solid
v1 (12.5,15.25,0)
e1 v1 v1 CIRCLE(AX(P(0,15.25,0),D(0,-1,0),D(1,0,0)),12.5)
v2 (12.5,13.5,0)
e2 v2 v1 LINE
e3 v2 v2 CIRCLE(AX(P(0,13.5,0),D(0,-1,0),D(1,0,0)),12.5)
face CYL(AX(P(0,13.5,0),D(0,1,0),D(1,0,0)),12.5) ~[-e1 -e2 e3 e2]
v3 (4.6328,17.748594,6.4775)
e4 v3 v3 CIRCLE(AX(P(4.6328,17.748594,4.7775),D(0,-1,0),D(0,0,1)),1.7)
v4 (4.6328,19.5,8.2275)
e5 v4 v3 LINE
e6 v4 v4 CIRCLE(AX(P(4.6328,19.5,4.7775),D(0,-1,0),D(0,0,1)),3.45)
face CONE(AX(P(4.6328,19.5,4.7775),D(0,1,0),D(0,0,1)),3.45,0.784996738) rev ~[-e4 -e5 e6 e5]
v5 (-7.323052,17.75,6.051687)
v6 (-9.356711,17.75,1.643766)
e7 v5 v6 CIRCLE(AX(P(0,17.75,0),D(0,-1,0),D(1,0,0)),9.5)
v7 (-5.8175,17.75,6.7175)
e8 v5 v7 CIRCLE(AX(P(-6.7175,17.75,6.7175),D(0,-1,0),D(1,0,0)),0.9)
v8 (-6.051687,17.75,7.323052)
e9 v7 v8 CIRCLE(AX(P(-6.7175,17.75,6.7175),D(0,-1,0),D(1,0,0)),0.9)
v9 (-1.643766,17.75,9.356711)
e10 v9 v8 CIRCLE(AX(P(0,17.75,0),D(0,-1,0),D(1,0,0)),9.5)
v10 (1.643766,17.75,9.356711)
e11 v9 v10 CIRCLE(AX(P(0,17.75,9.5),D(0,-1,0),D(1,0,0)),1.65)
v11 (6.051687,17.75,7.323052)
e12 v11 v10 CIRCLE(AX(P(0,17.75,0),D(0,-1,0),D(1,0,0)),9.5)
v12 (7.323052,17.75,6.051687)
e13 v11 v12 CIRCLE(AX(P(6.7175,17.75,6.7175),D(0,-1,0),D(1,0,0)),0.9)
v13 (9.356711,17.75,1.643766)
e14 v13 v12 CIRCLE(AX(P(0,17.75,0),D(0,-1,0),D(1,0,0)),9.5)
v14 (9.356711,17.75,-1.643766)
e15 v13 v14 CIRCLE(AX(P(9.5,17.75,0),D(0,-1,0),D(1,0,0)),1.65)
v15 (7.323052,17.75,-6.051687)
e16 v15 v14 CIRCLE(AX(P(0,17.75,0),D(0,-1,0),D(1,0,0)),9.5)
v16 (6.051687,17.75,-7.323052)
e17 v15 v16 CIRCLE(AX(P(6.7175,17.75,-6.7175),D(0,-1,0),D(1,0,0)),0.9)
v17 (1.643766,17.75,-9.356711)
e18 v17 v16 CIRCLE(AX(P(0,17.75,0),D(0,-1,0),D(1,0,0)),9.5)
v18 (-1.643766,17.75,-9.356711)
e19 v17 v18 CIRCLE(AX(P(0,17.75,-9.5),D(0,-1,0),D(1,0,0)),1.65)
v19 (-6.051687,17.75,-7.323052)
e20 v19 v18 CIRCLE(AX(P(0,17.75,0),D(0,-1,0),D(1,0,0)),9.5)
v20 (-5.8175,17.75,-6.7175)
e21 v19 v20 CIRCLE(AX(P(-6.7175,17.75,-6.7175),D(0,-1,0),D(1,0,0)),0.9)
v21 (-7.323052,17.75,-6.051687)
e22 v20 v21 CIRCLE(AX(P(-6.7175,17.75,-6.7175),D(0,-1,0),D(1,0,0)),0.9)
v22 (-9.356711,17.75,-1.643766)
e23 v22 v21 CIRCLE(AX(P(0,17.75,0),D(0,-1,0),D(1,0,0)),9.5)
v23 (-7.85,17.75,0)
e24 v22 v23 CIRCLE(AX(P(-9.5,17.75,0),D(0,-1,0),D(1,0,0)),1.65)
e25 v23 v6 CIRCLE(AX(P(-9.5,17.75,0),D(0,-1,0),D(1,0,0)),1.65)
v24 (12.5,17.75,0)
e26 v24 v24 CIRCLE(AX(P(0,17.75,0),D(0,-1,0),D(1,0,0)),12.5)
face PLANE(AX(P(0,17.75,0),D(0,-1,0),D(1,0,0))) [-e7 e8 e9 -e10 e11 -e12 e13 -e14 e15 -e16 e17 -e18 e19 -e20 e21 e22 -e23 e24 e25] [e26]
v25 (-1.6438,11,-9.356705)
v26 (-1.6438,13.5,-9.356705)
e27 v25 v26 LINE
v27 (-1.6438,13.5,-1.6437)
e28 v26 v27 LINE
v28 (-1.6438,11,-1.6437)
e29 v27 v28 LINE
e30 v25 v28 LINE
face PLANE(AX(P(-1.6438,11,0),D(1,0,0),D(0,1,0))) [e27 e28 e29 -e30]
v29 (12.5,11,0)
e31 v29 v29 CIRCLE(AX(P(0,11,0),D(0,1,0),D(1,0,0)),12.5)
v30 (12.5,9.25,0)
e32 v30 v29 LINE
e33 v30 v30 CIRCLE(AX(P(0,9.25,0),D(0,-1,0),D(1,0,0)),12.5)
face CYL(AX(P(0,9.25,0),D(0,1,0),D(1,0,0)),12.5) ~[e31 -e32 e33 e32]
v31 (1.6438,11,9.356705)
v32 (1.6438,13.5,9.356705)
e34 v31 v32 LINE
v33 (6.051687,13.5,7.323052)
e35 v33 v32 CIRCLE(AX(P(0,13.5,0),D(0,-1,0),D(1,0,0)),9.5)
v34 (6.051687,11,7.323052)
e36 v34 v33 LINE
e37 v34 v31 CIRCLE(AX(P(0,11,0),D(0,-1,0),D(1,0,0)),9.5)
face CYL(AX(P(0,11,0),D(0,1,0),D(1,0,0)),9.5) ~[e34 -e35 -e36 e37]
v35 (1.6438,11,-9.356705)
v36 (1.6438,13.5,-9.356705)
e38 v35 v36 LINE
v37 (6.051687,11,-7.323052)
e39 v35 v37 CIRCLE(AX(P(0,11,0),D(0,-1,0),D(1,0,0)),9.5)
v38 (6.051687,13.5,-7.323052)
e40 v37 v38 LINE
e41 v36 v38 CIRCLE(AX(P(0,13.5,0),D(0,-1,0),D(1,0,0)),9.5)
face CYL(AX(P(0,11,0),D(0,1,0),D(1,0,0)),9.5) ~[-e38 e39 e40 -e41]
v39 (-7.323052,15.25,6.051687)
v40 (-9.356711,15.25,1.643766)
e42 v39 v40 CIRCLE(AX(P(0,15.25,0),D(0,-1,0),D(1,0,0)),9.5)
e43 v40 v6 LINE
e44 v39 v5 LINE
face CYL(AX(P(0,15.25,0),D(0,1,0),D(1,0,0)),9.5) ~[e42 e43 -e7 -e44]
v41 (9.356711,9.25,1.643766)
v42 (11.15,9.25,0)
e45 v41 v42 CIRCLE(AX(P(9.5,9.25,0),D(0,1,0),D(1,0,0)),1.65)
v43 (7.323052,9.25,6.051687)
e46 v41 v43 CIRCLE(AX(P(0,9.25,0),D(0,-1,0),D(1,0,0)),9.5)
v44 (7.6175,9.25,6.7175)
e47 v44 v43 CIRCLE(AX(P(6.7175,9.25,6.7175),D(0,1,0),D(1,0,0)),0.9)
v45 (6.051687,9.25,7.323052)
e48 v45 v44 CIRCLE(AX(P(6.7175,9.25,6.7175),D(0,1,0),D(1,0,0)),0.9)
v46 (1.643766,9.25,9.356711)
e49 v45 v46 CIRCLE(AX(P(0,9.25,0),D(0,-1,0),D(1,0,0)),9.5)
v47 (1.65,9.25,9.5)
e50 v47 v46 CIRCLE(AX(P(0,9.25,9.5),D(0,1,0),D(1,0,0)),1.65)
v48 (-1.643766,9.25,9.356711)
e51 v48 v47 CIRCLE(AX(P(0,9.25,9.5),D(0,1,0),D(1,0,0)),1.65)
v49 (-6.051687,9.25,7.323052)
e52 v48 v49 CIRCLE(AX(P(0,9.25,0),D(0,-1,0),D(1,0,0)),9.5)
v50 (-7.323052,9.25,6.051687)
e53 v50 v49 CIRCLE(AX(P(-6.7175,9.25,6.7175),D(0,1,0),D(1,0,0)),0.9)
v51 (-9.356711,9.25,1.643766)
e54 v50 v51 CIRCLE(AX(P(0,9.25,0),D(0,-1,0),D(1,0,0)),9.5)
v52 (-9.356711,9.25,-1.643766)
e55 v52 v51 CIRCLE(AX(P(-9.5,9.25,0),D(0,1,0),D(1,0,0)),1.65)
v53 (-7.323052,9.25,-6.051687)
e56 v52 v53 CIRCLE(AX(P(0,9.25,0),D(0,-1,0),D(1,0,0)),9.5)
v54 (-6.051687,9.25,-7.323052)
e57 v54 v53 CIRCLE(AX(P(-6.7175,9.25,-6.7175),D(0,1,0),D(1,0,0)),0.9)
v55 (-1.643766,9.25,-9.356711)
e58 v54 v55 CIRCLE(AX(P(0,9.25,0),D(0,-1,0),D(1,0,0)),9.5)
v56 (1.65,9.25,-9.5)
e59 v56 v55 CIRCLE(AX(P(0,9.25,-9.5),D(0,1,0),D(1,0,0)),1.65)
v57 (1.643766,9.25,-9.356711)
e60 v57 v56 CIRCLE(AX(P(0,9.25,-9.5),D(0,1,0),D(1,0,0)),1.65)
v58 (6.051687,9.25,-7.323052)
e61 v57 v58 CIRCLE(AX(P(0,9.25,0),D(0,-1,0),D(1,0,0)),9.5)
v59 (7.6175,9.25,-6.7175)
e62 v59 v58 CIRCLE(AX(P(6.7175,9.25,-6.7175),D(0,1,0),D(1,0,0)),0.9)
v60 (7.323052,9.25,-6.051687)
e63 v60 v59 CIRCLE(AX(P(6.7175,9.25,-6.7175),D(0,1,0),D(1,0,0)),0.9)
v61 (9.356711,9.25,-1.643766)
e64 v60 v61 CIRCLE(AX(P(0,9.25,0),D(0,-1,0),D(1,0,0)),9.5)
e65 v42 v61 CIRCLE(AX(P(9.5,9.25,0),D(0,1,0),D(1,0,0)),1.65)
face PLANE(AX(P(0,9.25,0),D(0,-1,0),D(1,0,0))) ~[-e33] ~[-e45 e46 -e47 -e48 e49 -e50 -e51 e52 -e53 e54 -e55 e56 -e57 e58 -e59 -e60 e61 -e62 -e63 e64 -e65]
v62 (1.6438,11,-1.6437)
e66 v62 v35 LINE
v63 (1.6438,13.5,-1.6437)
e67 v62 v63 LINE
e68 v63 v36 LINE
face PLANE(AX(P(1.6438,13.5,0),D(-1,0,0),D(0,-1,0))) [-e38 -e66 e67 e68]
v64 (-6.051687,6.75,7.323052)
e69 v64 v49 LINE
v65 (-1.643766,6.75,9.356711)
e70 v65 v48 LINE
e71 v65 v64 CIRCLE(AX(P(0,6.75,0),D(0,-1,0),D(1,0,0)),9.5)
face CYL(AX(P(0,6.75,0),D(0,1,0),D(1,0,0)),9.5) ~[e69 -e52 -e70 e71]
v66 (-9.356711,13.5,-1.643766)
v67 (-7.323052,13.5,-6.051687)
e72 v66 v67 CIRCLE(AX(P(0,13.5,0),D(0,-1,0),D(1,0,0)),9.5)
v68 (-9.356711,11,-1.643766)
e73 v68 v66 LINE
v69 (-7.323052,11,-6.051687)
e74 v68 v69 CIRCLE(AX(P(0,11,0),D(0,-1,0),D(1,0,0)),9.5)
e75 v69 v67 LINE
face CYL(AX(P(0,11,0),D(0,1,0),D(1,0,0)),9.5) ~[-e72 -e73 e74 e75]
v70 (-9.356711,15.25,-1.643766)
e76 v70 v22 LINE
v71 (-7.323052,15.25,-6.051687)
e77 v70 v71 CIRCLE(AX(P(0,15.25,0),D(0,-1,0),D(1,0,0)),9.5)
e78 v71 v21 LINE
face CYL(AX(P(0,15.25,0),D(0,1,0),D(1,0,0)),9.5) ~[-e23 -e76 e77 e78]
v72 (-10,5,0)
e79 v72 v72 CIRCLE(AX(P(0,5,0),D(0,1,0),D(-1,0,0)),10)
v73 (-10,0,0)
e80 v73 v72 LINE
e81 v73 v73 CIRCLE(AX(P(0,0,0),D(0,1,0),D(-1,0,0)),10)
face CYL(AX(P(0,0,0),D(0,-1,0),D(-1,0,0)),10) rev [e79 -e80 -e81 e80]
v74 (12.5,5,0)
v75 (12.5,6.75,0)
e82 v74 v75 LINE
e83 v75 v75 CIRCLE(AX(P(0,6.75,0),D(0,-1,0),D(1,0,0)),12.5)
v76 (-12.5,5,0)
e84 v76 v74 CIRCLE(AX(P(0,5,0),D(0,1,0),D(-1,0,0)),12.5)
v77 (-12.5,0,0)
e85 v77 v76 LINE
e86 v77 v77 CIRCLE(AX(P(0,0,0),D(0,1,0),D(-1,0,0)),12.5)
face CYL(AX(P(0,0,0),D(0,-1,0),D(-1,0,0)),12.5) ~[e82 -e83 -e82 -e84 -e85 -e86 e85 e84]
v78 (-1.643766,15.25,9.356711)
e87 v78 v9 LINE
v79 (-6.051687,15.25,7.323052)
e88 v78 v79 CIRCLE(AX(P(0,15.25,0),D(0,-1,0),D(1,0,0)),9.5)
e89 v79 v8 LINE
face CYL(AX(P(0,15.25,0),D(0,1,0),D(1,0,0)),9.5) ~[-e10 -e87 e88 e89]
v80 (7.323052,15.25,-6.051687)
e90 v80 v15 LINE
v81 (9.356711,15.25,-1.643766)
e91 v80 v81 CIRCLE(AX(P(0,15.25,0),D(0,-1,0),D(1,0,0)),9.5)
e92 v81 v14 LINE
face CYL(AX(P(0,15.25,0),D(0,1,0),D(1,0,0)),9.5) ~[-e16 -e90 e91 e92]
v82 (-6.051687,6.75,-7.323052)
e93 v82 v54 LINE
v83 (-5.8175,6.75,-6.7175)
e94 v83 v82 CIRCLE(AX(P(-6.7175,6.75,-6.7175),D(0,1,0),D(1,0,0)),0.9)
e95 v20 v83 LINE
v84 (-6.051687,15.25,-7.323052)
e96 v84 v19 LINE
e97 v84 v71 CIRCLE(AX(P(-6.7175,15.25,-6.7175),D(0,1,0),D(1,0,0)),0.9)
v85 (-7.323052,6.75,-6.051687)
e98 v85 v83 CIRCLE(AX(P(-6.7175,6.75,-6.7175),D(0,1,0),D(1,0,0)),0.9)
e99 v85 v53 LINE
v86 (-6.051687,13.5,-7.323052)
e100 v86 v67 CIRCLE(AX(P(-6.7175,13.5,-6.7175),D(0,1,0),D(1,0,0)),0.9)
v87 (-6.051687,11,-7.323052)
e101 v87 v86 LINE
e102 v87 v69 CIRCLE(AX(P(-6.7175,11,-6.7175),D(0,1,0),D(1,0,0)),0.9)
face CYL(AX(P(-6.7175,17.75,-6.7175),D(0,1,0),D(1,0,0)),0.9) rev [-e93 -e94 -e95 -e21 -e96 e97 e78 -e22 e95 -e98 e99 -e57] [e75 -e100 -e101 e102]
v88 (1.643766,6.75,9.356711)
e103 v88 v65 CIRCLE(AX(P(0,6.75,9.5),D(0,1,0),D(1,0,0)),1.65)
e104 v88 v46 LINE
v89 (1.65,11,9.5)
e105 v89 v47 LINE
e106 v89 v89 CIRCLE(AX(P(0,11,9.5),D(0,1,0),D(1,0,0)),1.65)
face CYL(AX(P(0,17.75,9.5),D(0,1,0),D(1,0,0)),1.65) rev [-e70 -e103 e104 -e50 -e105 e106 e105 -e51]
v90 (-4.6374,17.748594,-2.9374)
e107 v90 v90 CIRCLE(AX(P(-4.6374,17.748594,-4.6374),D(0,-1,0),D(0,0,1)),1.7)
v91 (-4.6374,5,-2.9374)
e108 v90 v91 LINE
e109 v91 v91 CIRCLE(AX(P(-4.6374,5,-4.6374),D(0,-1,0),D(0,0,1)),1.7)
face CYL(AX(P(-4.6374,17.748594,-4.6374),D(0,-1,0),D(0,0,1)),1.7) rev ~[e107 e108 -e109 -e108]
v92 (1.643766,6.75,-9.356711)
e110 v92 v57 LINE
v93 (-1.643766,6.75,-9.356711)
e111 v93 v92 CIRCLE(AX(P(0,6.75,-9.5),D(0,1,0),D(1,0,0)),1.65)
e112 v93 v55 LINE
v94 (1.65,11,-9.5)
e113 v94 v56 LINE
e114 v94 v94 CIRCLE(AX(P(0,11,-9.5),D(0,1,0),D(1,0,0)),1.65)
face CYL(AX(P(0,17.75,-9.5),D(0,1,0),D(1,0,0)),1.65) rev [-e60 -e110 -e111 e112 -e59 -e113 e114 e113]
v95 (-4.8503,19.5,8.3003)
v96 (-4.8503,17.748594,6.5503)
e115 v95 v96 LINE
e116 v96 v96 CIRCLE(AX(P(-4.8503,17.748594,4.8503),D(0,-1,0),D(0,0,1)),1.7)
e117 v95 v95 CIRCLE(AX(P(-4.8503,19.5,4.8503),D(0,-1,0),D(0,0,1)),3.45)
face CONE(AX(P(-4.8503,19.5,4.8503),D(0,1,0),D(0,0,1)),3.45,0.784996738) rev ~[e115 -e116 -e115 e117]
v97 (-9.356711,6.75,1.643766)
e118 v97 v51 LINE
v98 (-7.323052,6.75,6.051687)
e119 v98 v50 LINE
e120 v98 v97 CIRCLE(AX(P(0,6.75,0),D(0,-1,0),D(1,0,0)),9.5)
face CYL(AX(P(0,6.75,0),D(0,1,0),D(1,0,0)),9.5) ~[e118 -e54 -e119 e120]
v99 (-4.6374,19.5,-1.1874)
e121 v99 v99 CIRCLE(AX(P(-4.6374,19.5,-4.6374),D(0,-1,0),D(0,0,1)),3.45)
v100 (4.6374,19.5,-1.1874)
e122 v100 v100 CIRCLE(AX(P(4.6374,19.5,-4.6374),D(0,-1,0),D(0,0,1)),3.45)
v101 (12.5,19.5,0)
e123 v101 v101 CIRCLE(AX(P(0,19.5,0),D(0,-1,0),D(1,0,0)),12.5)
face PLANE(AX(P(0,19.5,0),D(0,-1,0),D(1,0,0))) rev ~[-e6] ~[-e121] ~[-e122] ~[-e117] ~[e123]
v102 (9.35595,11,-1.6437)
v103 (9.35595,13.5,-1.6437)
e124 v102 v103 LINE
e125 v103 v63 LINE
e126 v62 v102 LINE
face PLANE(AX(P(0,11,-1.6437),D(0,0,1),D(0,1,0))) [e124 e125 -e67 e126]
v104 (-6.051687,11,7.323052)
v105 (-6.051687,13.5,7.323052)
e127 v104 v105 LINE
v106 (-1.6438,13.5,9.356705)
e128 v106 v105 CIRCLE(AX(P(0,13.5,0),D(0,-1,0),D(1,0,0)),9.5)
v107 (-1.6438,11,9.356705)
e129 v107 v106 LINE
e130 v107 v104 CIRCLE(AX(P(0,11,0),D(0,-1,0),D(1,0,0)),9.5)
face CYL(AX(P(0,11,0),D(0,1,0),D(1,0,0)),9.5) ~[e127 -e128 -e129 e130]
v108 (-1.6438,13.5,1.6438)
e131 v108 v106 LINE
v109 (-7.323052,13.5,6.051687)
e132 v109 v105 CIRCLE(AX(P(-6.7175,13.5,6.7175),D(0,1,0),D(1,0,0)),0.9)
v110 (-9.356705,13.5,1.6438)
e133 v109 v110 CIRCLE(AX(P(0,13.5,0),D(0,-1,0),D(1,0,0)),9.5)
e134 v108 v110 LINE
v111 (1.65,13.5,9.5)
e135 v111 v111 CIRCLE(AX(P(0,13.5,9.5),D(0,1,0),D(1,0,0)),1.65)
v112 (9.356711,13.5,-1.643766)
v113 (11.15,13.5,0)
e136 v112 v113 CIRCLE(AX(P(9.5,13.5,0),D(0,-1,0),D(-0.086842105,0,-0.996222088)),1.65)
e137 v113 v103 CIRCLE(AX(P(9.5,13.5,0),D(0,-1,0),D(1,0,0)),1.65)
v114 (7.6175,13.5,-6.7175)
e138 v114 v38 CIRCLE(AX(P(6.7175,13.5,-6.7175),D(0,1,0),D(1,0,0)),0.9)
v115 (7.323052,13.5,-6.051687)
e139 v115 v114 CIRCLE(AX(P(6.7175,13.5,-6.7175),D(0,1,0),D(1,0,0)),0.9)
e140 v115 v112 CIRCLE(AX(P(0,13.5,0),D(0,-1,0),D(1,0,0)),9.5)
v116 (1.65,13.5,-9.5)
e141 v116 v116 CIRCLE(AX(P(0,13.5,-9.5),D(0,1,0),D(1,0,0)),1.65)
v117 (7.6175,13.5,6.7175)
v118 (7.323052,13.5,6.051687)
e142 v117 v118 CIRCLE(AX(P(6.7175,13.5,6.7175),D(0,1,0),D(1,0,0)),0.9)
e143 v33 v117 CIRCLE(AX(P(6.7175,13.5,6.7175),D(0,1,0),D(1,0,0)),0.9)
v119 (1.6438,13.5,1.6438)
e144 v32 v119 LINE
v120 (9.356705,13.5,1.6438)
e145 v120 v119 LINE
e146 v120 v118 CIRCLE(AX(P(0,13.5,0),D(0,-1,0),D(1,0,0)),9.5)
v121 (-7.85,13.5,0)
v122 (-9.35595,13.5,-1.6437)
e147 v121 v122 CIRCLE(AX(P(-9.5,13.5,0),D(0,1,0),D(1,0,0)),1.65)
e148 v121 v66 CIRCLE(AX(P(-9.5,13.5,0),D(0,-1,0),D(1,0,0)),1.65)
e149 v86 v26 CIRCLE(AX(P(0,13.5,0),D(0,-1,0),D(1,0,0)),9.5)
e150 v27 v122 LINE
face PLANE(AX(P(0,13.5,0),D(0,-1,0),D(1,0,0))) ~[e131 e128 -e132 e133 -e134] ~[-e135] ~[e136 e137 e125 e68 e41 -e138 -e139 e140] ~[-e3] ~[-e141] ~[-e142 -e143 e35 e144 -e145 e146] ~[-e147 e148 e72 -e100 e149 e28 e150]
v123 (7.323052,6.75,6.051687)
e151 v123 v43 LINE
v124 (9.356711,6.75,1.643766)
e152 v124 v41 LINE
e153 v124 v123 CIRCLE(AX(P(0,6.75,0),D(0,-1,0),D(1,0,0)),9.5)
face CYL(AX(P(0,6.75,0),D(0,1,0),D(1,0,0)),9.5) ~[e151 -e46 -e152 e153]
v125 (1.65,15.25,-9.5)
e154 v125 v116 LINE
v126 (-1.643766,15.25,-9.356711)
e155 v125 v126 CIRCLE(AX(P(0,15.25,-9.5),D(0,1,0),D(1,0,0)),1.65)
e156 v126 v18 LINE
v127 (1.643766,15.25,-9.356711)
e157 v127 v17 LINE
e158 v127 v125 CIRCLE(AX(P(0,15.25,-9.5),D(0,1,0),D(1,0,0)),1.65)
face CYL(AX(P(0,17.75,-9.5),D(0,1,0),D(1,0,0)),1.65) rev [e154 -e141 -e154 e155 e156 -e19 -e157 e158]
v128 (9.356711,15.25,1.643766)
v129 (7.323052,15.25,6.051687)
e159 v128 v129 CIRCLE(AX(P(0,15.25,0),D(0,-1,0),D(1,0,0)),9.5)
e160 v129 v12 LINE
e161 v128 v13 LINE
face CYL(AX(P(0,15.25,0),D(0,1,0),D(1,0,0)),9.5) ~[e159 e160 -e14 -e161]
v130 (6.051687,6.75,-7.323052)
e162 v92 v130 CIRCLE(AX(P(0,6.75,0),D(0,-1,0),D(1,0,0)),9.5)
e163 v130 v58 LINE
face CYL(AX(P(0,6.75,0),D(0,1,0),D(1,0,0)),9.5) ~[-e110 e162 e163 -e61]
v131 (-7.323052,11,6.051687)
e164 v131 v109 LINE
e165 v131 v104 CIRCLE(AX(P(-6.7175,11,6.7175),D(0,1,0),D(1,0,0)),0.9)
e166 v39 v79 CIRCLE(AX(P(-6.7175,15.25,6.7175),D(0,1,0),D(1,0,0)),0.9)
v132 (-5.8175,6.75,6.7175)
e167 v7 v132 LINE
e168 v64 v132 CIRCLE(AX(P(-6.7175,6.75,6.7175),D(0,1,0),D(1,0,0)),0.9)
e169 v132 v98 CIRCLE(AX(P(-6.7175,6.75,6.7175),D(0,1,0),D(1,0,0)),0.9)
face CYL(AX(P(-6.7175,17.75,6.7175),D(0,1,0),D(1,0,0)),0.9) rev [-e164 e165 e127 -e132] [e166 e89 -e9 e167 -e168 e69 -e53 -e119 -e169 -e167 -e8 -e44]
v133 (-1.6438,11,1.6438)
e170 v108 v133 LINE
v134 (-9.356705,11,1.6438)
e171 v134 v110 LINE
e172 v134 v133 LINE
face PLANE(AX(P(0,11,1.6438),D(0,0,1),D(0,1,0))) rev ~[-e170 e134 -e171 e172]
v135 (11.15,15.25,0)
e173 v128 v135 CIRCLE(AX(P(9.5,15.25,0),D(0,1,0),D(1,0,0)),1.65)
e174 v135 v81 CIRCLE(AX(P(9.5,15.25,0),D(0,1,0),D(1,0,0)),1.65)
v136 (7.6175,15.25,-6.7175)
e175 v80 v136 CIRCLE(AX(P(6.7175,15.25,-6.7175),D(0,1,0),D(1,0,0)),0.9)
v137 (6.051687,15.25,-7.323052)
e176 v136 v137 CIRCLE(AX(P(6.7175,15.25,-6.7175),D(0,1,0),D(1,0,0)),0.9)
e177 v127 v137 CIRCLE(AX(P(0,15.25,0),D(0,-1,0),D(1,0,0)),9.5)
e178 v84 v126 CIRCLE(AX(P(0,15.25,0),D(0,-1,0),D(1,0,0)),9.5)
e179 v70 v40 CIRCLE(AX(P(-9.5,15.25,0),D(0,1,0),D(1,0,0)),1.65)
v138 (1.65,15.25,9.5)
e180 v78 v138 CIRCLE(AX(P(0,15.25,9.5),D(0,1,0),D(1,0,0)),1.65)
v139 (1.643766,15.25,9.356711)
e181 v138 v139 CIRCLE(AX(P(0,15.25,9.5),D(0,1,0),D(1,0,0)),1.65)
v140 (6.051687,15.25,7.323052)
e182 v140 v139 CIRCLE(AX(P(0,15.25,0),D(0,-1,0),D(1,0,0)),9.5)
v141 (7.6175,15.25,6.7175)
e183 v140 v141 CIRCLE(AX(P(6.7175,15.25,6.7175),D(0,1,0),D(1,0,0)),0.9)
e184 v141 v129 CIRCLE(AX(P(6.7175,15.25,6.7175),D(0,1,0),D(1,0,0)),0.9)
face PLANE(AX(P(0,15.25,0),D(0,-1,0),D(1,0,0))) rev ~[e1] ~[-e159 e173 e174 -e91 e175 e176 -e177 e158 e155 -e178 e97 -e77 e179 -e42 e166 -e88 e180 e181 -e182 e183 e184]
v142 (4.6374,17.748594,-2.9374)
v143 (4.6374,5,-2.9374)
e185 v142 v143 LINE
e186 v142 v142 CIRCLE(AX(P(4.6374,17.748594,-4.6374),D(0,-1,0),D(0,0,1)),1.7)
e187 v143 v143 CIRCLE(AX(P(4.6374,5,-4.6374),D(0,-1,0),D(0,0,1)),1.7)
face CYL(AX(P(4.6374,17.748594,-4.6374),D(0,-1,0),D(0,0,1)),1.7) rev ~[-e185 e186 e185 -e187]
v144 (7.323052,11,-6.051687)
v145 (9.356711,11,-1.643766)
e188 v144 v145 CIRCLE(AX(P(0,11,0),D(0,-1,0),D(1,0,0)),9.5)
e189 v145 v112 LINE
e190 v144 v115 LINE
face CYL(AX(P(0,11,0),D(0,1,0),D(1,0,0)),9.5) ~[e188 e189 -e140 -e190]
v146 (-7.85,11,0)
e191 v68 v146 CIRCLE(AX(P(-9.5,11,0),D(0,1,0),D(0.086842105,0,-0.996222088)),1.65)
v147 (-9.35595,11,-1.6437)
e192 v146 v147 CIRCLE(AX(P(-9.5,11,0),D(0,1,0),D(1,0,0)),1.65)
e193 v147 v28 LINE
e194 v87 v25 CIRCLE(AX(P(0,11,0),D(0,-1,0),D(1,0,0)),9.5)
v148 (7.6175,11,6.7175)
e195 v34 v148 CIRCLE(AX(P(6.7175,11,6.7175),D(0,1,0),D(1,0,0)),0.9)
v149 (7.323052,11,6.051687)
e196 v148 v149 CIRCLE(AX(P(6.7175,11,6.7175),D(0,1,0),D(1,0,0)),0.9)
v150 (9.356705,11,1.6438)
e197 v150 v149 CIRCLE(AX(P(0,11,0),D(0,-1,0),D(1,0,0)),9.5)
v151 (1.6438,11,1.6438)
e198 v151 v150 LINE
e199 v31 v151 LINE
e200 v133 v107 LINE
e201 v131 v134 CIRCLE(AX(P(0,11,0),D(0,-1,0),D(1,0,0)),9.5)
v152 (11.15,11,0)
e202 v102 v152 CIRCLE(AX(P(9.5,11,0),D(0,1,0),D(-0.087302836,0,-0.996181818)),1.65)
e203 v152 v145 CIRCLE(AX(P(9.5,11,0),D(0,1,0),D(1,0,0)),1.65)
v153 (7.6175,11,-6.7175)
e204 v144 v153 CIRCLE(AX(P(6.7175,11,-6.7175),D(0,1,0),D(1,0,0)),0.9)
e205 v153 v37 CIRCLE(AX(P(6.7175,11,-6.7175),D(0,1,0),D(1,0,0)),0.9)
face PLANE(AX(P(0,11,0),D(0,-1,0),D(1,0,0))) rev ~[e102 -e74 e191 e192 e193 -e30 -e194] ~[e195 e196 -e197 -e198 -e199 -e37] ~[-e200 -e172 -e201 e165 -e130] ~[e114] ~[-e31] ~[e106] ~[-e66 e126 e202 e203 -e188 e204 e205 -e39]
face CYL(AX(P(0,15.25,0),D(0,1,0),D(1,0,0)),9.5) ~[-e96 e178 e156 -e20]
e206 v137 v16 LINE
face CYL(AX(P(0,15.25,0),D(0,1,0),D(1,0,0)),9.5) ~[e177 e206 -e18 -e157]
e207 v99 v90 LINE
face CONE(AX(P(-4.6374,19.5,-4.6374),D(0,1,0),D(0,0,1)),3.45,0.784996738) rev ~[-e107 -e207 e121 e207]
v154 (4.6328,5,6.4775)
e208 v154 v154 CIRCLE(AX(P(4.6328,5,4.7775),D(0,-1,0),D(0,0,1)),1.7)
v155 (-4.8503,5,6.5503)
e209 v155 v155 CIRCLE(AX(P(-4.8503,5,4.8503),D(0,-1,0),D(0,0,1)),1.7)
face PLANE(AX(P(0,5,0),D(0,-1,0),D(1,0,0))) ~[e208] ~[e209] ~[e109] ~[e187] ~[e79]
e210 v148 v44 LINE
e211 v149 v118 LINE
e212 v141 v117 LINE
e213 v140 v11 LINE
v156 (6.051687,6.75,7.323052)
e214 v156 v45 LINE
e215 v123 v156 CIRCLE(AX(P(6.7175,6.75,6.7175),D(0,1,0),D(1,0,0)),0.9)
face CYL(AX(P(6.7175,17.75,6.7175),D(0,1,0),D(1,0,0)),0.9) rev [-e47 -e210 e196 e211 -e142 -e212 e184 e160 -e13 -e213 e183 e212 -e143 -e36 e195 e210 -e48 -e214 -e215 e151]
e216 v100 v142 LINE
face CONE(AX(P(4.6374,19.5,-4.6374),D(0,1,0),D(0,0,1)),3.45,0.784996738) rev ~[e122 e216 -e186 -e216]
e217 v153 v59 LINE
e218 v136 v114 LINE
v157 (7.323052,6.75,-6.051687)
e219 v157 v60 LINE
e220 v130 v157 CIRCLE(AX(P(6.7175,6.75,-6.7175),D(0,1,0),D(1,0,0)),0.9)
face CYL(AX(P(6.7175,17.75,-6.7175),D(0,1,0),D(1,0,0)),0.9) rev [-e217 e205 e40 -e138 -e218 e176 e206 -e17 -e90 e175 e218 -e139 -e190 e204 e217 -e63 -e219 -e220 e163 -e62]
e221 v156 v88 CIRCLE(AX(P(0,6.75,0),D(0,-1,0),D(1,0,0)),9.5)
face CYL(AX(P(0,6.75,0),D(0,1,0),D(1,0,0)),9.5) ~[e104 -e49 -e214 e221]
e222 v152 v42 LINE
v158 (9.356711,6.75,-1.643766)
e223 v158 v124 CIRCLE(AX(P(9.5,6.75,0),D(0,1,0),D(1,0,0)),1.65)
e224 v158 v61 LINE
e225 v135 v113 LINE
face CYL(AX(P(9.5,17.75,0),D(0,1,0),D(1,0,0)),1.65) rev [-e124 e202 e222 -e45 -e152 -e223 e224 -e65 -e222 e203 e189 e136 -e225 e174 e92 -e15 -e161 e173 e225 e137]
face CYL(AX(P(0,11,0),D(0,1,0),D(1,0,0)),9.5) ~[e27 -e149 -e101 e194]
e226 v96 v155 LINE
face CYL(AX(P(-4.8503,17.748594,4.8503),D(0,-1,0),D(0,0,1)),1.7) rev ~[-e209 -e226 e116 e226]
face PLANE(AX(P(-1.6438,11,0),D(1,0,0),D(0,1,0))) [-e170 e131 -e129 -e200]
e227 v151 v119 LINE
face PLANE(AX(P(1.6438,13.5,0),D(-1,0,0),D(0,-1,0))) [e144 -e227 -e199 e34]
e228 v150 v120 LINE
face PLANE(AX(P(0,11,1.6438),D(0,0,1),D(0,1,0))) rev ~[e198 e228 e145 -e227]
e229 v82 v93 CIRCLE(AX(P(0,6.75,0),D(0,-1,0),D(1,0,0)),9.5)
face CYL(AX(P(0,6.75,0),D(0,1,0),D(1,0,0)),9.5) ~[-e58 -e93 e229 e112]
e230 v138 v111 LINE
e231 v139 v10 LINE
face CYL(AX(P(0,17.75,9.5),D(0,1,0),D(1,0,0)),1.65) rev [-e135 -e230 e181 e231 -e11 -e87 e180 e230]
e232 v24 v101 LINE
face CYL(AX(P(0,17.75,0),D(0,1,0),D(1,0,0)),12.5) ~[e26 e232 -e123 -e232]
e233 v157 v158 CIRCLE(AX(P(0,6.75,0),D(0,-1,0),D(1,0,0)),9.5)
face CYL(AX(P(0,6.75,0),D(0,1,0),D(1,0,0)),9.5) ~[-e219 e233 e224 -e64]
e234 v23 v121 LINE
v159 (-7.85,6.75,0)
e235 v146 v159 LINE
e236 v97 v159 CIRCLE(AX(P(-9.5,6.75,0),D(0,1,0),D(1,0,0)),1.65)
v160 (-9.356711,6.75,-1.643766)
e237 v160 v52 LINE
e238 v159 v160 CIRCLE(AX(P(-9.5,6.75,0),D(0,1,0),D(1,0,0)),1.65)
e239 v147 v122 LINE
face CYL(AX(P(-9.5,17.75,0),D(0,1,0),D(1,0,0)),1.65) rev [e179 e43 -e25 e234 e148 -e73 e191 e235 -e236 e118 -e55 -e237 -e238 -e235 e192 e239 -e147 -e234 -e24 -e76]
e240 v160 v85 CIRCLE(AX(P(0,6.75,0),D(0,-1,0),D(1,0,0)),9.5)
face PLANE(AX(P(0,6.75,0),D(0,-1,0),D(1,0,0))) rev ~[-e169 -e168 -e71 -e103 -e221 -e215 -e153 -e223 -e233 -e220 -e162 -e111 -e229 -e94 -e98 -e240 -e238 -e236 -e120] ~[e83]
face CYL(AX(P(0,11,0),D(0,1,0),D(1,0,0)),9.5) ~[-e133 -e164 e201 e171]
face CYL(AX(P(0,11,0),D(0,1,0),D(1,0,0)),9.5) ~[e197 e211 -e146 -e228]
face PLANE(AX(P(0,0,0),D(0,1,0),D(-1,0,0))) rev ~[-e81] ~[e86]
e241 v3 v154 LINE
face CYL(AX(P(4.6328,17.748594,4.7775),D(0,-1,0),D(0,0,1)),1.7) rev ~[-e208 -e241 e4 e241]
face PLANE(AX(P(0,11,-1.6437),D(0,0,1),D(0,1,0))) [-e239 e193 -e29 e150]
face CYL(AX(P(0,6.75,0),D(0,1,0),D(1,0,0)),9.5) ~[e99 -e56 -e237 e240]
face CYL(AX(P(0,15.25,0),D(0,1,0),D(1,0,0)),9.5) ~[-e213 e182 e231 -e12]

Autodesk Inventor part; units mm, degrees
ref_plane "YZ Plane" through (0, 0, 0) normal (1, 0, 0) x (0, 1, 0)
sketch "Szkic1" plane through (0, 0, 0) normal (0, 1, 0) x (-1, 0, 0)
  circle A0 centre (0, 0) radius 12.5
  circle A1 centre (0, 0) radius 10
  dimension "d0" = 20
  dimension "d2" = 25
extrude "Wyciągnięcie proste1" add sketch "Szkic1" along normal blind 5
ref_plane "Płaszczyzna konstrukcyjna1" through (0, -12, 0) normal (0, 0, -1) x (-1, 0, 0)
sketch "Szkic5" plane through (0, -12, 0) normal (0, 0, -1) x (-1, 0, 0)
  line L0 (12.5, 17) -> (-12.5, 17) projected
  line L1 (0, 17) -> (-12.5, 17)
  line L2 (-12.5, 17) -> (-12.5, 18.75)
  line L3 (-12.5, 18.75) -> (0, 18.75)
  line L4 (0, 18.75) -> (0, 17)
  line L5 (0, 18.75) -> (-9.5, 18.75)
  line L6 (-9.5, 18.75) -> (-9.5, 21.25)
  line L7 (-9.5, 21.25) -> (0, 21.25)
  line L8 (0, 21.25) -> (0, 18.75)
  line L9 (0, 21.25) -> (-12.5, 21.25)
  line L10 (-12.5, 21.25) -> (-12.5, 23)
  line L11 (-12.5, 23) -> (0, 23)
  line L12 (0, 23) -> (0, 21.25)
  line L13 (0, 23) -> (-9.5, 23)
  line L14 (-9.5, 23) -> (-9.5, 25.5)
  line L15 (-9.5, 25.5) -> (0, 25.5)
  line L16 (0, 25.5) -> (0, 23)
  line L17 (0, 25.5) -> (-12.5, 25.5)
  line L18 (-12.5, 25.5) -> (-12.5, 27.25)
  line L19 (-12.5, 27.25) -> (0, 27.25)
  line L20 (0, 27.25) -> (0, 25.5)
  line L21 (0, 27.25) -> (-9.5, 27.25)
  line L22 (-9.5, 27.25) -> (-9.5, 29.75)
  line L23 (-9.5, 29.75) -> (0, 29.75)
  line L24 (0, 29.75) -> (0, 27.25)
  line L25 (0, 29.75) -> (-12.5, 29.75)
  line L26 (-12.5, 29.75) -> (-12.5, 31.5)
  line L27 (-12.5, 31.5) -> (0, 31.5)
  line L28 (0, 31.5) -> (0, 29.75)
  line L29 (-12.5, 12) -> (-12.5, 17) construction
  line L30 (-12.5, 12) -> (-12.5, 17) construction
  line L31 (-12.5, 12) -> (12.5, 12) construction
  point P0 (0, 12)
  dimension "d13" = 2.5
  dimension "d17" = 19.5
  dimension "d18" = 3
revolve "Obrót1" add sketch "Szkic5" angle 360 about axis through (0, 11, 0) along (0, -1, 0)
sketch "Szkic7" plane through (0, 17.75, 0) normal (0, -1, 0) x (1, 0, 0)
  circle A0 centre (0, 0) radius 9.5 projected
  circle A1 centre (0, 9.5) radius 1.65
  circle A2 centre (0, 0) radius 10 projected
  circle A3 centre (0, 0) radius 9.5 projected
  circle A4 centre (-9.5, 0) radius 1.65
  circle A5 centre (0, -9.5) radius 1.65
  circle A6 centre (9.5, 0) radius 1.65
  circle A7 centre (6.7175, -6.7175) radius 0.9
  circle A8 centre (6.7175, 6.7175) radius 0.9
  circle A9 centre (-6.7175, 6.7175) radius 0.9
  circle A10 centre (-6.7175, -6.7175) radius 0.9
  line L0 (6.7175, 6.7175) -> (0, 0) construction
  line L1 (0, 0) -> (-6.7175, 6.7175) construction
  circle A11 centre (0, 0) radius 12.5 construction
  line L2 (0, 0) -> (-6.7175, -6.7175) construction
  line L3 (0, 0) -> (6.7175, -6.7175) construction
  line L4 (17.5, 0) -> (-17.5, 0) construction
  dimension "d23" = 45
  dimension "d24" = 45
  dimension "d25" = 3.3
  dimension "d47" = 1.8
extrude "Wyciągnięcie proste6" cut sketch "Szkic7" along normal up to surface (11 mm away) contours A0 A6 | A0 A6 A2 | A8 A0 | A0 A8 A2 | A6 A2 | A7 A2 A0 | A0 A7 | A2 A8 | A7 A2 | A1 A0 | A0 A1 A2 | A5 A2 A0 | A0 A5 | A2 A1 | A5 A2 | A9 A0 | A0 A9 A2 | A10 A2 A0 | A0 A10 | A2 A9 | A10 A2 | A4 A0 | A0 A4 A2 | A2 A4
sketch "Szkic8" plane through (0, -12, 0) normal (0, 0, -1) x (-1, 0, 0)
  line L0 (6.0517, 25.5) -> (1.6438, 25.5) projected
  line L1 (-1.6438, 25.5) -> (-1.6438, 23) projected
  line L2 (1.6438, 25.5) -> (-1.6438, 25.5)
  line L3 (-1.6438, 25.5) -> (-1.6438, 23)
  line L4 (-1.6438, 23) -> (1.6438, 23)
  line L5 (1.6438, 23) -> (1.6438, 25.5)
  point P0 (0, 12)
  point P1 (1.65, 22.75)
extrude "Wyciągnięcie proste7" cut sketch "Szkic8" along normal through all both and the other way through all
sketch "Szkic9" plane through (0, 5, 0) normal (0, -1, 0) x (1, 0, 0)
  line L0 (0, 0) -> (-3.4352, 0)
  line L1 (-3.4352, 0) -> (-3.4352, -2.2657)
  line L2 (-3.4352, -2.2657) -> (0, -2.2657)
  line L3 (0, -2.2657) -> (0, 0)
  dimension "d30" = 3.4352
  dimension "d31" = 2.2658
extrude "Wyciągnięcie proste8" add sketch "Szkic9" along normal blind 15
ref_plane "Płaszczyzna konstrukcyjna2" through (0, -10, -2.2657) normal (1, 0, 0) x (0, 0, -1)
sketch "Szkic10" plane through (0, -10, 0) normal (0, -1, 0) x (1, 0, 0)
  line L0 (0, 0) -> (-3.4352, 0) projected
  line L1 (-3.4352, -2.2657) -> (0, -2.2657) projected
  line L2 (0, 0) -> (-3.4352, 0)
  line L3 (-3.4352, 0) -> (-3.4352, -2.2657)
  line L4 (-3.4352, -2.2657) -> (0, -2.2657)
  line L5 (0, -2.2657) -> (0, 0)
extrude "Wyciągnięcie proste9" cut sketch "Szkic10" against normal up to surface (15 mm away)
sketch "Szkic11" plane through (0, -10, -2.2657) normal (1, 0, 0) x (0, 0, -1)
  line L0 (-3.9095, 21) -> (-3.9095, 23.5) projected
  line L1 (-0.622, 21) -> (-0.622, 23.5) projected
  line L2 (-3.9095, 21) -> (-0.622, 21)
  line L3 (-0.622, 21) -> (-0.622, 23.5)
  line L4 (-0.622, 23.5) -> (-3.9095, 23.5)
  line L5 (-3.9095, 23.5) -> (-3.9095, 21)
  point P0 (-2.2657, 10)
extrude "Wyciągnięcie proste10" cut sketch "Szkic11" along normal through all both and the other way through all
sketch "Szkic12" plane through (0, 19.5, 0) normal (0, 1, 0) x (1, 0, 0)
  line L0 (0, 0) -> (4.6374, 4.6374) construction
  line L1 (0, 0) -> (6.5583, 0) construction
  line L2 (0, 0) -> (-4.6374, 4.6374) construction
  line L3 (0, 0) -> (-4.8503, -4.8503) construction
  line L4 (0, 0) -> (4.8503, -4.8503) construction
  point P0 (-4.6374, 4.6374)
  point P1 (4.6328, -4.7775)
  dimension "d39" = 6.5583
hole "Otwór1" at (4.6374, 19.5, -4.6374) at (-4.6374, 19.5, -4.6374) at (-4.8503, 19.5, 4.8503) at (4.6328, 19.5, 4.7775) direction (0, -1, 0) diameter 3.4 end through all countersink diameter 6.9 countersink angle 89.954 clearance for "Śruba ze łbem stożkowym ISO 2009/7046" size "M3" standard "ISO"
properties part number "Koło2"
